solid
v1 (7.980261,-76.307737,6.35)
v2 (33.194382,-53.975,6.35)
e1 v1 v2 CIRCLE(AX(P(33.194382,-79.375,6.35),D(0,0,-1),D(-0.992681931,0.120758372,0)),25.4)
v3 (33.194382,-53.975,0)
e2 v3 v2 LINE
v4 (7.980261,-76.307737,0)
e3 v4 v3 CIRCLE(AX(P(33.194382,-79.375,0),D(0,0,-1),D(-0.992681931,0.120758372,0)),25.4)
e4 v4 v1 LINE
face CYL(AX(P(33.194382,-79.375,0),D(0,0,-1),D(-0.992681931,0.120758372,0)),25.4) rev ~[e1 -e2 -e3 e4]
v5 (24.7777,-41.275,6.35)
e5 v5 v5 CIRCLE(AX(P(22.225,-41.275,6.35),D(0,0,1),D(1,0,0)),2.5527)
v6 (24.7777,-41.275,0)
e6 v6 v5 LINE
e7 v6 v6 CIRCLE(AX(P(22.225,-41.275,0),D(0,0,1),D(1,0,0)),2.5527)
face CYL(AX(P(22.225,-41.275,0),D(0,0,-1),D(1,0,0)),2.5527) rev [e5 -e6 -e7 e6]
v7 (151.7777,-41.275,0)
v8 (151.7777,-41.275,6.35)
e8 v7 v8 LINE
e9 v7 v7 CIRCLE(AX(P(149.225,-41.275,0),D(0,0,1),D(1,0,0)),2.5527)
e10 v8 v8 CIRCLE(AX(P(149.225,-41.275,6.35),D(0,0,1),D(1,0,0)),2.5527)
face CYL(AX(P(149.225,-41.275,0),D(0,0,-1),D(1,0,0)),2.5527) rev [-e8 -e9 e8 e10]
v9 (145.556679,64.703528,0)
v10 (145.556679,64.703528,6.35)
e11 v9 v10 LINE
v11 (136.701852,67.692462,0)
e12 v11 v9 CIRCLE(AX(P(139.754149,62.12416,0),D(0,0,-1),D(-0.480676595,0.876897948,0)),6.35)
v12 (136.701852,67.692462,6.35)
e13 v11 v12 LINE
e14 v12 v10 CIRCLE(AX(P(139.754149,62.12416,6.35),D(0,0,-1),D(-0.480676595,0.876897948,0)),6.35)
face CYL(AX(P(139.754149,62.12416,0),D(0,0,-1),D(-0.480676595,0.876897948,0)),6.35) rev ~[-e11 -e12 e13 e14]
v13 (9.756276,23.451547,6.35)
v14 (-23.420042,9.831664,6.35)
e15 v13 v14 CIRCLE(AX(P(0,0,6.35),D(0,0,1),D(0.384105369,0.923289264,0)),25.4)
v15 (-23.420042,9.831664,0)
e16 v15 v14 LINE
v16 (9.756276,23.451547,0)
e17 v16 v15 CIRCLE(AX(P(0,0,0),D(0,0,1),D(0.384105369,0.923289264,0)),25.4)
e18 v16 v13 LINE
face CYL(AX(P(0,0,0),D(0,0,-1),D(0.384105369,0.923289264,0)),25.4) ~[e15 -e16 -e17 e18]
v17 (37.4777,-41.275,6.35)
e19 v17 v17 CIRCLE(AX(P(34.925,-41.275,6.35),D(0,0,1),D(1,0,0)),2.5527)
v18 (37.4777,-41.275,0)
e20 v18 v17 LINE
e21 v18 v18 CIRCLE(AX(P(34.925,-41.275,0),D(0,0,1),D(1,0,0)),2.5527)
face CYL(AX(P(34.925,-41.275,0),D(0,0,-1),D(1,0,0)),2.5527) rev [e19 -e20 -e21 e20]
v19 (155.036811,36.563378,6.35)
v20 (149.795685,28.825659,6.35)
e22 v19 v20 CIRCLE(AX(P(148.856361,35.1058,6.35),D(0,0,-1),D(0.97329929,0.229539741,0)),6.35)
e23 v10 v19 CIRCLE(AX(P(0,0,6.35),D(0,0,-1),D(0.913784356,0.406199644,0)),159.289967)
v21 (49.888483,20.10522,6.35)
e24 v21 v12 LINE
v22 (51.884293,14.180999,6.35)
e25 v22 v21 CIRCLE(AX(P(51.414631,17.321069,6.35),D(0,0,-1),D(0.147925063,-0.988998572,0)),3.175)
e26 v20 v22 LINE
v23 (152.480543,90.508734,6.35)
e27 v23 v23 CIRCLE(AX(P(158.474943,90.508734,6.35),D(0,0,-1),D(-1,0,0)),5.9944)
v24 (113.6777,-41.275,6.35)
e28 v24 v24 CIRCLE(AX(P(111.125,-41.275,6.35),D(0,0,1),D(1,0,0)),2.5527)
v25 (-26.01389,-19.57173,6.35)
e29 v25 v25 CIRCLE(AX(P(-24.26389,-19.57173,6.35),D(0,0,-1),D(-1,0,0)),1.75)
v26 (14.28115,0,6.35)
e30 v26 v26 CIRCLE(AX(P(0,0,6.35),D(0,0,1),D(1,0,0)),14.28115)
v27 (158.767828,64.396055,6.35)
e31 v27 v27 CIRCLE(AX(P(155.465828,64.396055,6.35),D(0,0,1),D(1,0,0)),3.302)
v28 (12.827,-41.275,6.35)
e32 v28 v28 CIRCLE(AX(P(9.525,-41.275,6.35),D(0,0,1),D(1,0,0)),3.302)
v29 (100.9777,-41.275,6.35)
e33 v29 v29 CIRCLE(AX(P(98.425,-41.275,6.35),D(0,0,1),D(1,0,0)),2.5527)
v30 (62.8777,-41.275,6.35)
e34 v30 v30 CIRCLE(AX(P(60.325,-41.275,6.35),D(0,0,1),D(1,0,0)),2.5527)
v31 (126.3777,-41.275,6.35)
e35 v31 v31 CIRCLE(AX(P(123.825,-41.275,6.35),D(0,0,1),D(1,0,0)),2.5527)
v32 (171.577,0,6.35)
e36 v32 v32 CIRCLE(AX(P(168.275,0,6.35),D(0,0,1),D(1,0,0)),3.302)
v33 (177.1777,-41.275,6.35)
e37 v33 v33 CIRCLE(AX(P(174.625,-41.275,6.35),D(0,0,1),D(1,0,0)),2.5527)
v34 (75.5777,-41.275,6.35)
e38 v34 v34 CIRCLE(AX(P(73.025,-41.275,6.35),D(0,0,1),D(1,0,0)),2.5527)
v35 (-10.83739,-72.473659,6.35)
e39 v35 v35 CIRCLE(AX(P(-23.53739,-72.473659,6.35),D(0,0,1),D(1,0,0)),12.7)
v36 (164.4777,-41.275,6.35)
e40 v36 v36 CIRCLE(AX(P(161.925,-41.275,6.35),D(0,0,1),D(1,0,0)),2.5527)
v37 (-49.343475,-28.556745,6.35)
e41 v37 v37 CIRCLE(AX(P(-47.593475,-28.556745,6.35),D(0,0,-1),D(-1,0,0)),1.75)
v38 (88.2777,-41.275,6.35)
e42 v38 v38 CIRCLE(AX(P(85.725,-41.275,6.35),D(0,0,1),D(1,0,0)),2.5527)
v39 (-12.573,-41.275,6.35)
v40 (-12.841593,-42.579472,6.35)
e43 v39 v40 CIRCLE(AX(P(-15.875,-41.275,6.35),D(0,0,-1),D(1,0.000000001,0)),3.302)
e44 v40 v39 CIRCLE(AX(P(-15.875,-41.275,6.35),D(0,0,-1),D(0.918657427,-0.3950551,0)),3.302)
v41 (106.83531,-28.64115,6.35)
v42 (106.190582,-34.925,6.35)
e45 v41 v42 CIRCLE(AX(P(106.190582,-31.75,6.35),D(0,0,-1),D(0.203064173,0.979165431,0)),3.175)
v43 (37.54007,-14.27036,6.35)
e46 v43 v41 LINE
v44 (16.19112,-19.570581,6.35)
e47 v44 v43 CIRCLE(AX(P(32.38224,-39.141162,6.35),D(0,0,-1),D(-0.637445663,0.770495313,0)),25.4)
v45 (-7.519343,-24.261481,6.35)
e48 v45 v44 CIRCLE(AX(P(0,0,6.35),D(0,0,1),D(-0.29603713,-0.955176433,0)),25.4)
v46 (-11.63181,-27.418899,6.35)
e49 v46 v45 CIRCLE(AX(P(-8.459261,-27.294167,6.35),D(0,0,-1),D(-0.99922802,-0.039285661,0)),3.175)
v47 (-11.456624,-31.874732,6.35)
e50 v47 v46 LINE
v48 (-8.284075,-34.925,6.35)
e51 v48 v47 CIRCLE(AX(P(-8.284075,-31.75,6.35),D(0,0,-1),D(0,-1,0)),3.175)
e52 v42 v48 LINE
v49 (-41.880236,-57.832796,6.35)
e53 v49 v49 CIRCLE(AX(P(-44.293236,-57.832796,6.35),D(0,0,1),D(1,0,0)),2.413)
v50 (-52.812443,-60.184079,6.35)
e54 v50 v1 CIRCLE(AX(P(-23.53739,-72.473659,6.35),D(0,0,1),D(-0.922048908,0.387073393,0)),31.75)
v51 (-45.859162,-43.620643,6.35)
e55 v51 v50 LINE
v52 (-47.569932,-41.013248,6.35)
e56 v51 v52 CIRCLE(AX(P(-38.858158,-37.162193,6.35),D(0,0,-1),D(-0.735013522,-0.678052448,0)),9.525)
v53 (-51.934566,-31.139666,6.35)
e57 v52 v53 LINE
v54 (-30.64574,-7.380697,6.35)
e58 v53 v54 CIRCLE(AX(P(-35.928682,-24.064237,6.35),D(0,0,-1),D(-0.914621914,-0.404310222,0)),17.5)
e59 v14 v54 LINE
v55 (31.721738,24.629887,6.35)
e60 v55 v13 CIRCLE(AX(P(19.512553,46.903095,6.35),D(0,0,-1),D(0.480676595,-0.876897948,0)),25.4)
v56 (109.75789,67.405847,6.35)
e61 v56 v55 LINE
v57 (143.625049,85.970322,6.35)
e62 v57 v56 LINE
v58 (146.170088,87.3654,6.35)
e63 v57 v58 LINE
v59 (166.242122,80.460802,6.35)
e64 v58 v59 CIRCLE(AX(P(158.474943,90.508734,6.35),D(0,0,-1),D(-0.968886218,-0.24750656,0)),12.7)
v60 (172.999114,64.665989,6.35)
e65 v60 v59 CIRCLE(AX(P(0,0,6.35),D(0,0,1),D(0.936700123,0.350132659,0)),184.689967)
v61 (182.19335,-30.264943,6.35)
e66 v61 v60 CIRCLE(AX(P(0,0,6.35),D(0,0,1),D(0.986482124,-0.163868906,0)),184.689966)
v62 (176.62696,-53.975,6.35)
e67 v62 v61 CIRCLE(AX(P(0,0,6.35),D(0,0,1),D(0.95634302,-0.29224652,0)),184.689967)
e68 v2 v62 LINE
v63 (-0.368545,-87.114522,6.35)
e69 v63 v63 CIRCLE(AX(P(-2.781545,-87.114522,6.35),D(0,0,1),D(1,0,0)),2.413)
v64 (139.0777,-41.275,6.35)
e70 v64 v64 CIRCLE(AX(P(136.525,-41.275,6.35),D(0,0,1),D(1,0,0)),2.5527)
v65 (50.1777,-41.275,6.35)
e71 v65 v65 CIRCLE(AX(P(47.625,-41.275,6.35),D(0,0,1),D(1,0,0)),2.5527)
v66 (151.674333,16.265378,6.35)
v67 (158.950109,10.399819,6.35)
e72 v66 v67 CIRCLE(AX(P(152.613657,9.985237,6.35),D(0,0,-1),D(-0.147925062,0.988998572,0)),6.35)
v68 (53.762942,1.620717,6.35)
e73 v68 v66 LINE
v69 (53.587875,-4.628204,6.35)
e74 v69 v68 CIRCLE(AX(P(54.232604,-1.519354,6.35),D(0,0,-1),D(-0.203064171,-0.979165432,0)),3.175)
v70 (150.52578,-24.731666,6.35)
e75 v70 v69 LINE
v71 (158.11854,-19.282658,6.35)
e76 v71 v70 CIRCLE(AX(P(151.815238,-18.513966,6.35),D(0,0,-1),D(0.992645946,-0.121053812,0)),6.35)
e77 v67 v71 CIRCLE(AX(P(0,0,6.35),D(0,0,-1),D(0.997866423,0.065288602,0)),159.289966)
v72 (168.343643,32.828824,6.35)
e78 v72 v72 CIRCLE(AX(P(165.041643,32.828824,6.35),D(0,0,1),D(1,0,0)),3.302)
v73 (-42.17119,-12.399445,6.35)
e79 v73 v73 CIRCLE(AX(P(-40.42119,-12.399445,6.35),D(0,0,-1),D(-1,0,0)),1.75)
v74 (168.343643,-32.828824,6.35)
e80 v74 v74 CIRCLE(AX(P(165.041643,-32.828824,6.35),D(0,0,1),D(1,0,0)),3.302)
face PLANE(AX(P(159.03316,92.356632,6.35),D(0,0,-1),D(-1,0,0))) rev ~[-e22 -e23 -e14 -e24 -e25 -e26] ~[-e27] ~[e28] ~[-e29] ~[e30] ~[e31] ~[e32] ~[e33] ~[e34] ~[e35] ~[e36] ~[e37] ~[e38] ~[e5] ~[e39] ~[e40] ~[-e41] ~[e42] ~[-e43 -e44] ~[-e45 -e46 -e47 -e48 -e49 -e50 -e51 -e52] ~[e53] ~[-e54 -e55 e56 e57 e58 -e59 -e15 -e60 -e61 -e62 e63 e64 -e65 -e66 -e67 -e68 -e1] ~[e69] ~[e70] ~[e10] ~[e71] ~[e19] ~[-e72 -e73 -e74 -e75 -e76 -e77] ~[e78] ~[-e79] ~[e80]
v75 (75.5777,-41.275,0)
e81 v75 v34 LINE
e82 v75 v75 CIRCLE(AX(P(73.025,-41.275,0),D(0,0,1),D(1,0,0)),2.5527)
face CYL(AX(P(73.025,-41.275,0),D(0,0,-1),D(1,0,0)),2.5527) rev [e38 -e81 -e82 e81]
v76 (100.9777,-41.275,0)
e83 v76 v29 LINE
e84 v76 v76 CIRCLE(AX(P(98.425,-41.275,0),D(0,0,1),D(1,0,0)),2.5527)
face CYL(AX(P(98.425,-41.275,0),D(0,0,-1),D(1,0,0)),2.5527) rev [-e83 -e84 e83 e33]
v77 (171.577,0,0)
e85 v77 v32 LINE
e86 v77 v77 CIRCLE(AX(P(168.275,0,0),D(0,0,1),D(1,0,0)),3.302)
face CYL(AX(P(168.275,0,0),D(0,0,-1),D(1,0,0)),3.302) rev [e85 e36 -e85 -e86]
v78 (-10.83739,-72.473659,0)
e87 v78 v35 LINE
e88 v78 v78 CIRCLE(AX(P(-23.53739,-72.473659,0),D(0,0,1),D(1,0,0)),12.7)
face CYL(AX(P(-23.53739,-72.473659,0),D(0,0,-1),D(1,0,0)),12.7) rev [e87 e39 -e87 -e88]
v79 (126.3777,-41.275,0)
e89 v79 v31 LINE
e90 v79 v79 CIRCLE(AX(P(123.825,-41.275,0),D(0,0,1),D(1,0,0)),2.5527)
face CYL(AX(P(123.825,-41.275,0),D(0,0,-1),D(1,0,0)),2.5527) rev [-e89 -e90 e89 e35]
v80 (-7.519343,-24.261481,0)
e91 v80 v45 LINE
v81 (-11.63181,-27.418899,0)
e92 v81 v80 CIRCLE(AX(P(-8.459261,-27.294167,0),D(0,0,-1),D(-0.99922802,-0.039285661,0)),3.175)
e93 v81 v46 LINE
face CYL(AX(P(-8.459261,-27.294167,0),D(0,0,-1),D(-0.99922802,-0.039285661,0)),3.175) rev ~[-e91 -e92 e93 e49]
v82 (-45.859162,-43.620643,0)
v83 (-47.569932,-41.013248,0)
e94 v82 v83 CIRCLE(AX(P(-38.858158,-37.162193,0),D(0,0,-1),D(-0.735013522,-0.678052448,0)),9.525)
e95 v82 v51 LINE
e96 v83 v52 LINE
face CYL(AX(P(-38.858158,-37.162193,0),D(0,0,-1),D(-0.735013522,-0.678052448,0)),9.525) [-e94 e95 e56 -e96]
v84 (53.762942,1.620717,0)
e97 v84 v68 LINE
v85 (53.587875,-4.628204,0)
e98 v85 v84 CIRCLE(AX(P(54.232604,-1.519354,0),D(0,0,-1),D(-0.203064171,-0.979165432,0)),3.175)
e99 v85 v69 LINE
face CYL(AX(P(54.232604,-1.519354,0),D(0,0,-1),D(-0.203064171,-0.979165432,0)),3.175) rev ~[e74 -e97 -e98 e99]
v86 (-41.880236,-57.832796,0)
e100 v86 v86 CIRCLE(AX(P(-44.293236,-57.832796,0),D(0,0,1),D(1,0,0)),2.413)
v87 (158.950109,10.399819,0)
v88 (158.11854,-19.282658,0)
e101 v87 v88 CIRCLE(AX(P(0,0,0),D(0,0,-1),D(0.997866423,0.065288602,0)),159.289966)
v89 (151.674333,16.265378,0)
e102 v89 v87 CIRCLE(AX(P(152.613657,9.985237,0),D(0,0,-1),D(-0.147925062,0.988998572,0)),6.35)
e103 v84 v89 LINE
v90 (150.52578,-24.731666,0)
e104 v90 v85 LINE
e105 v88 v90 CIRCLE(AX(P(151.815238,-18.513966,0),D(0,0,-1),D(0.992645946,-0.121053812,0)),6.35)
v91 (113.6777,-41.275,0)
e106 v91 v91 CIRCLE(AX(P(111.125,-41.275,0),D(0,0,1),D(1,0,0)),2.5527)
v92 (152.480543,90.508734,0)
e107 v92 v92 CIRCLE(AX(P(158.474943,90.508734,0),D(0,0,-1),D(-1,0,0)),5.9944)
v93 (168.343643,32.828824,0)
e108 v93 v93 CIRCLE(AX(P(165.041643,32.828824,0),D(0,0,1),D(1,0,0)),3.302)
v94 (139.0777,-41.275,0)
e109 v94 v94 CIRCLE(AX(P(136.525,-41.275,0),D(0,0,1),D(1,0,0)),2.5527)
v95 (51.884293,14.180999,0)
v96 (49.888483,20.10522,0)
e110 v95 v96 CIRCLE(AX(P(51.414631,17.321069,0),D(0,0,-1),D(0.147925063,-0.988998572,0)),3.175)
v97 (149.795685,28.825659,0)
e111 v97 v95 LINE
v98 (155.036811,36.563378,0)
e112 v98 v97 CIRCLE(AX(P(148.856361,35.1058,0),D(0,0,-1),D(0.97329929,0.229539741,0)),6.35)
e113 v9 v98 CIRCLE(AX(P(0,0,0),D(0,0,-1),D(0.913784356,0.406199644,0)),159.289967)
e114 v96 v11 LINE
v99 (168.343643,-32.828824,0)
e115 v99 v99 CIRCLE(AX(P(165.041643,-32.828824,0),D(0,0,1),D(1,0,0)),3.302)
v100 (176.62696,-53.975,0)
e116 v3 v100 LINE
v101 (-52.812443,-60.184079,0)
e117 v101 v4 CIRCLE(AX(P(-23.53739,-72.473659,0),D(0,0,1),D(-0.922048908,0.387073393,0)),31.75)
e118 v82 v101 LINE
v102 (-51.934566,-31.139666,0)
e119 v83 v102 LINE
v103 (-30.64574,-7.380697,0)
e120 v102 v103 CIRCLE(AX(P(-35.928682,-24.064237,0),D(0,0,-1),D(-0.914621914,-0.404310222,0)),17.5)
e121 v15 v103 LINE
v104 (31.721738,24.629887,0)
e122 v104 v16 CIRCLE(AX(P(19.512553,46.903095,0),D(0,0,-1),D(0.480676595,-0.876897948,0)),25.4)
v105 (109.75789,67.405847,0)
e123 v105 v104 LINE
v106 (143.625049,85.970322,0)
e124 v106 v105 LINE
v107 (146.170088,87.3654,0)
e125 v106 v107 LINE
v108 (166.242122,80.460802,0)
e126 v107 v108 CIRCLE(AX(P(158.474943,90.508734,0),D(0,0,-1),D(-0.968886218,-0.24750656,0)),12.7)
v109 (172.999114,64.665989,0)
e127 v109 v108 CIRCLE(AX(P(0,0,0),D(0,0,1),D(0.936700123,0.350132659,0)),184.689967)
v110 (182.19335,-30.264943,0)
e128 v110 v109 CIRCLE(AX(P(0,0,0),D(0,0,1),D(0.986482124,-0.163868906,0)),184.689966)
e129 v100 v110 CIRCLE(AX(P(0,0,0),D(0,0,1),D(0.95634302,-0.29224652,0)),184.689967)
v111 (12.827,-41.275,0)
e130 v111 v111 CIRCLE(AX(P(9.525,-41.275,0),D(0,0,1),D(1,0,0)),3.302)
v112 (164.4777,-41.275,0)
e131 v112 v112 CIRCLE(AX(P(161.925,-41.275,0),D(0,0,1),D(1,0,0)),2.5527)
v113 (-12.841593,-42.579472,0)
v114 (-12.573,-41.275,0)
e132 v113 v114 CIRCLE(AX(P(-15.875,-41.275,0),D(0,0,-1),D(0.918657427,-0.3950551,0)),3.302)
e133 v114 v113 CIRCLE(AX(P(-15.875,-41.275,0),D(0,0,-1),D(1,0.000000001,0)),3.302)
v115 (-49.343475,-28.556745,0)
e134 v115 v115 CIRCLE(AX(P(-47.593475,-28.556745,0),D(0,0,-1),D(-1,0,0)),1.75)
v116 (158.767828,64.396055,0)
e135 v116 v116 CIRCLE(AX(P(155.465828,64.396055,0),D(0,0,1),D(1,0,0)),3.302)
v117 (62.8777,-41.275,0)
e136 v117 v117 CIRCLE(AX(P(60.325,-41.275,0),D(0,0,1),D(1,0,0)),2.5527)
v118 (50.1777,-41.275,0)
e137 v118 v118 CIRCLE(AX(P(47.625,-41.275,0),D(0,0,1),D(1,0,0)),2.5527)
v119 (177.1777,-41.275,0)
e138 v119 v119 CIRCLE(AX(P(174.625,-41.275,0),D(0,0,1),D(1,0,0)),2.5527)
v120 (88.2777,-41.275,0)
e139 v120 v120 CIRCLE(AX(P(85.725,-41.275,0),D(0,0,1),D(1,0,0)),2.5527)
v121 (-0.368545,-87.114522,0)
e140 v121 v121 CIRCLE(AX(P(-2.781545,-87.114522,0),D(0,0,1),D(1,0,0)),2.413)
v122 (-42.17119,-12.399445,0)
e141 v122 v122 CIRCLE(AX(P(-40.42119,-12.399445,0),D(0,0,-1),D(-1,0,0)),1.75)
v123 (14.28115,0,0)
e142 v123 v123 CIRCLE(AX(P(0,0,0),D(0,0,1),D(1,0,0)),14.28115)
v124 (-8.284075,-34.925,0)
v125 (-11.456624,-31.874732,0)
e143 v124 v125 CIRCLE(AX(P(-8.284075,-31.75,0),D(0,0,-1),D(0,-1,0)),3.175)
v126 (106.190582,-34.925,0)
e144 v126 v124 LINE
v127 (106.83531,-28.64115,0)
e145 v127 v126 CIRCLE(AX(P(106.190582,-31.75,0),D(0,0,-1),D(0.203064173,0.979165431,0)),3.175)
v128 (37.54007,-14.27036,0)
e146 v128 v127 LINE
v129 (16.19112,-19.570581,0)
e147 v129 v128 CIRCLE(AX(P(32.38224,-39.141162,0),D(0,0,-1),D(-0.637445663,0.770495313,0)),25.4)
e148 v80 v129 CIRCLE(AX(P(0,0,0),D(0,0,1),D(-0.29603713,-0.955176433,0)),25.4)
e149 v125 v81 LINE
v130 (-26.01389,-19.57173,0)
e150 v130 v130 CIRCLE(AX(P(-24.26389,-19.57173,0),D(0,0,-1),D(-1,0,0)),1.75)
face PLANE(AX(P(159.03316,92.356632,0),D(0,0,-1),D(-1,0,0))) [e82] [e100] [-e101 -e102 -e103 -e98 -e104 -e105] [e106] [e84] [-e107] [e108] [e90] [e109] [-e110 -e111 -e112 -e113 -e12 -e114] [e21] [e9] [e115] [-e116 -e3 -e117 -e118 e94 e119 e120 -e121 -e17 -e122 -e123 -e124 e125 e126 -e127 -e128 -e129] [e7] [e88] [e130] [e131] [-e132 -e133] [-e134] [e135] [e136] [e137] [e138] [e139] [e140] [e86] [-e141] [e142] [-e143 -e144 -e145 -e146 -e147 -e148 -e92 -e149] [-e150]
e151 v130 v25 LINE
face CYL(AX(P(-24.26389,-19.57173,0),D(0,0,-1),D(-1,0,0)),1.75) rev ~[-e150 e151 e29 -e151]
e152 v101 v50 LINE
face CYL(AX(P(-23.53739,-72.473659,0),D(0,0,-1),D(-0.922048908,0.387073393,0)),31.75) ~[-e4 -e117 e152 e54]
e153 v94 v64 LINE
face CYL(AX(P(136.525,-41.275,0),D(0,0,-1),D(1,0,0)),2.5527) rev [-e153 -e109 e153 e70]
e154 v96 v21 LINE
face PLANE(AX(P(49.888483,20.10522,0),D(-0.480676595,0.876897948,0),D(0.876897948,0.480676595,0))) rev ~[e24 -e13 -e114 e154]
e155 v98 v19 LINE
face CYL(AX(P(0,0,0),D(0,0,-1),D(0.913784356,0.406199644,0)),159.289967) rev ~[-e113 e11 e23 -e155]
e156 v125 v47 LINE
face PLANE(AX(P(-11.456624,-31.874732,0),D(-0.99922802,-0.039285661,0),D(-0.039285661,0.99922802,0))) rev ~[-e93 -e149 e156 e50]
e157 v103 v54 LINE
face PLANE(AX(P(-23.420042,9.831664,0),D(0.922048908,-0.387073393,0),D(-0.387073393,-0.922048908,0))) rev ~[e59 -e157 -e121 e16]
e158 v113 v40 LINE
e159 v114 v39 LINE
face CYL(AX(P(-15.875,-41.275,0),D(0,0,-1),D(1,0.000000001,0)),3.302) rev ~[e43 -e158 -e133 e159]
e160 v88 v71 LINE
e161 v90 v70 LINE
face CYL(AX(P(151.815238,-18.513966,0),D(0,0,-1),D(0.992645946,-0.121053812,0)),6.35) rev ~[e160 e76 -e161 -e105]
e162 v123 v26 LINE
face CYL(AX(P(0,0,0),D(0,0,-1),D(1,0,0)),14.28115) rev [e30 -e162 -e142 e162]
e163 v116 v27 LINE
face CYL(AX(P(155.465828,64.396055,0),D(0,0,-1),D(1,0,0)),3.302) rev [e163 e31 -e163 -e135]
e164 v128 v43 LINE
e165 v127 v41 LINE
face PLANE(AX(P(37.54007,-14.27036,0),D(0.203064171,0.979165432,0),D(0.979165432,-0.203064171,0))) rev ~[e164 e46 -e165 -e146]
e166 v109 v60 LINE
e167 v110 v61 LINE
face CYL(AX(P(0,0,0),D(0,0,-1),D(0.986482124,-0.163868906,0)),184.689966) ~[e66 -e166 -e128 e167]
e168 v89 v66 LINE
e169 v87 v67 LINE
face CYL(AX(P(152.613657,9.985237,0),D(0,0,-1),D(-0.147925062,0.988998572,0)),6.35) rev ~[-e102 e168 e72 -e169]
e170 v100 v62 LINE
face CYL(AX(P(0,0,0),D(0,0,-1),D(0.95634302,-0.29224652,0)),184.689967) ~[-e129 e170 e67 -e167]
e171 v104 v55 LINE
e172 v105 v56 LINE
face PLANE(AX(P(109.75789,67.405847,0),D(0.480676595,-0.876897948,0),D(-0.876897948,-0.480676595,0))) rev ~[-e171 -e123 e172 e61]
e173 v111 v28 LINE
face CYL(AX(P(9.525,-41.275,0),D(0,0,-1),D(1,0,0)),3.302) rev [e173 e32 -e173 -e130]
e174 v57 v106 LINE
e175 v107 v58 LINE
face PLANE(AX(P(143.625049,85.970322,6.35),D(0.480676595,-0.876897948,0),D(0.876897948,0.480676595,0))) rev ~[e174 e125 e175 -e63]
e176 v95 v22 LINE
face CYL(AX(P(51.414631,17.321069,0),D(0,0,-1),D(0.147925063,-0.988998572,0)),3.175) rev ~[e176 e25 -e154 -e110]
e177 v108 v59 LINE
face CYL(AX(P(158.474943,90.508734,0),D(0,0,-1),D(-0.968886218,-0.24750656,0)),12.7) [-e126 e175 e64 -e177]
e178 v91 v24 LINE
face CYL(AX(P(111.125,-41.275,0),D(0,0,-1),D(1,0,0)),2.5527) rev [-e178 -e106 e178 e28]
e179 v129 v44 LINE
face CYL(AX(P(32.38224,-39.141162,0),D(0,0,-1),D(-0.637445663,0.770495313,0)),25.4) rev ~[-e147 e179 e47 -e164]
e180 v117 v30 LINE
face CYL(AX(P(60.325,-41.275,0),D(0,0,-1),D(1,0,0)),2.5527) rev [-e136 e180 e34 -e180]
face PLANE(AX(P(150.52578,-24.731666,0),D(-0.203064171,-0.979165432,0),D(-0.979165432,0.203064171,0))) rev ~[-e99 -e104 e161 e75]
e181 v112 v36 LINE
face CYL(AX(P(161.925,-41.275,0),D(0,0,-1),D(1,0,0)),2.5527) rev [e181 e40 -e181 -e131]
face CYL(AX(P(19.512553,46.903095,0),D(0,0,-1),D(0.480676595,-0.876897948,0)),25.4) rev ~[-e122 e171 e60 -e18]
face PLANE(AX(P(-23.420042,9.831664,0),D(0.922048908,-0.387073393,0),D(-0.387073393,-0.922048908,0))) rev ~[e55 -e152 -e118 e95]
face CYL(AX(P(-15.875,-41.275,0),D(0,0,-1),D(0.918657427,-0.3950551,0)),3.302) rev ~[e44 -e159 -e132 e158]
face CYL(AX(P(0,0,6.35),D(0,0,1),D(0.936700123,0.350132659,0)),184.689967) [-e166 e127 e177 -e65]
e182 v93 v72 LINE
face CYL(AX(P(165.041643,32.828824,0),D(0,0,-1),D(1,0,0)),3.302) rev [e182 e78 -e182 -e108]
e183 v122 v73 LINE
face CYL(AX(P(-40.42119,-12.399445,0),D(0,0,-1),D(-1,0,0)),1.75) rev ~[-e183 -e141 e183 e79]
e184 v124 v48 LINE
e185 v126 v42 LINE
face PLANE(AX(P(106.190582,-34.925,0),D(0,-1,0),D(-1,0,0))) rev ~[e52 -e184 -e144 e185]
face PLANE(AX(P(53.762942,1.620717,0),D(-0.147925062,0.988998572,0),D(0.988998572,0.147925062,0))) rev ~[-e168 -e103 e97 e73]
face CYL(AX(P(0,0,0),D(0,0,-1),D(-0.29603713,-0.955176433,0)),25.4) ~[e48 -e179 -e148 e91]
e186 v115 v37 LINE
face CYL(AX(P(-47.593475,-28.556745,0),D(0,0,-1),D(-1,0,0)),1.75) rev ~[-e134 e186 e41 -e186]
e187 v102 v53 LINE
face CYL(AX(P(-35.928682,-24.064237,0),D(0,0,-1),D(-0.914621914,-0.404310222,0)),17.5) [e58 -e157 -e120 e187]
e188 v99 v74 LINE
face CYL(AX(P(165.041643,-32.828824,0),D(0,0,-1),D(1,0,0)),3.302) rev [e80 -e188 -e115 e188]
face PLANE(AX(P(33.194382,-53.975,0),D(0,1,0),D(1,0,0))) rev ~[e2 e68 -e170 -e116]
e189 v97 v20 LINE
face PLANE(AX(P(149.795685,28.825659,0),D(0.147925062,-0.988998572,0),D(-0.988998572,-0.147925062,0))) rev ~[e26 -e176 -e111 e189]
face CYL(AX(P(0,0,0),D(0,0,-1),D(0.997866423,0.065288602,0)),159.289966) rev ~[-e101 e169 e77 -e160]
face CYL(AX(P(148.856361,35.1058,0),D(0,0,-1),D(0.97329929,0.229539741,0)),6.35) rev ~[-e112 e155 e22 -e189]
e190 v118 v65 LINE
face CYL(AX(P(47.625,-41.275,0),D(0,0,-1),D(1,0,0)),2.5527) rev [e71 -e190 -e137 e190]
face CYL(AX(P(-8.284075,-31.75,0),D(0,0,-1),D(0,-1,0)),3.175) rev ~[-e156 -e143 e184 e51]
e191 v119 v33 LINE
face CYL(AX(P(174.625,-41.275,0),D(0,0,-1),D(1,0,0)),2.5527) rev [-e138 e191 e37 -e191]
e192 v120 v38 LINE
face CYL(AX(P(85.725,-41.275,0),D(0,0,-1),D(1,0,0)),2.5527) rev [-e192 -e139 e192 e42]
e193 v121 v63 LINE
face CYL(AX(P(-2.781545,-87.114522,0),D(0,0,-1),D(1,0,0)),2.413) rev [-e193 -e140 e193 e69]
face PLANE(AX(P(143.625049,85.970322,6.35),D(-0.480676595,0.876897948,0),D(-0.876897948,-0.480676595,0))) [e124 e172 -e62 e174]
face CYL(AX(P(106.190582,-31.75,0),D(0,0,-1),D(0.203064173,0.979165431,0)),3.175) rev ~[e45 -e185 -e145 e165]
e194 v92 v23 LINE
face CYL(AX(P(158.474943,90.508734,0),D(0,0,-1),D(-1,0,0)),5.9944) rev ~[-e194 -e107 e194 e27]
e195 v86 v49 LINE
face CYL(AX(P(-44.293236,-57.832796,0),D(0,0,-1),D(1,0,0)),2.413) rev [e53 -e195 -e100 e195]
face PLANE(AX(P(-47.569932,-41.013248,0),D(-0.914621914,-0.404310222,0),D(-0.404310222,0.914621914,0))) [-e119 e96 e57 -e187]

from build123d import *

# Parameters (mm, degrees)
MODEL_R             = 2.413
MODEL_R_2           = 12.7
MODEL_R_3           = 14.281149998
MODEL_R_4           = 3.302
MODEL_R_5           = 2.5527
MODEL_R_6           = 6.00075
MODEL_R_7           = 1.6
MODEL_R_8           = 6.599999999
BOSS_EXTRUDE2_DEPTH = 6.35
BOSS_EXTRUDE3_DEPTH = 6.35
CUT_EXTRUDE2_DEPTH  = 7.35
SKETCH3_R           = 1.75
BOSS_EXTRUDE4_DEPTH = 6.35
SKETCH3_6_R         = 1.75
CUT_EXTRUDE3_DEPTH  = 7.35
BOSS_EXTRUDE5_DEPTH = 6.35
SKETCH9_R           = 5.9944
CUT_EXTRUDE4_DEPTH  = 7.35


with BuildPart() as part:
    # Model → Boss-Extrude2 (new body)
    with BuildSketch(Plane.XY):
        with BuildLine():
            Line((33.194381935, -53.975), (176.626960261, -53.975))
            ThreePointArc((176.626960261, -53.975), (179.801405862, -42.211824955), (182.193350463, -30.264942807))
            ThreePointArc((182.193350463, -30.264942807), (183.829791454, 17.804254832), (172.999114376, 64.665989059))
            ThreePointArc((172.999114376, 64.665989059), (172.041022004, 67.851130989), (171.507342233, 71.134156425))
            Line((171.507342233, 71.134156425), (168.283057515, 104.748950069))
            ThreePointArc((168.283057515, 104.748950069), (153.768177108, 120.335666132), (134.949478429, 110.361496948))
            Line((134.949478429, 110.361496948), (120.644399952, 79.107921201))
            ThreePointArc((120.644399952, 79.107921201), (116.145567058, 72.378282822), (109.757890395, 67.405847105))
            Line((109.757890395, 67.405847105), (31.721738278, 24.629886736))
            ThreePointArc((31.721738278, 24.629886736), (20.873181942, 21.53956394), (9.756276385, 23.451547307))
            ThreePointArc((9.756276385, 23.451547307), (-9.646239085, 23.497022608), (-23.420042255, 9.831664186))
            Line((-23.420042255, 9.831664186), (-52.812443226, -60.184078795))
            ThreePointArc((-52.812443226, -60.184078795), (-31.676825474, -103.162616273), (7.980260895, -76.307737346))
            ThreePointArc((7.980260895, -76.307737346), (16.353189451, -60.360946363), (33.194381935, -53.975))
        make_face()
        with Locations((-2.78154477, -87.114522117)):
            Circle(MODEL_R, mode=Mode.SUBTRACT)
        with Locations((-44.293236039, -57.832795939)):
            Circle(MODEL_R, mode=Mode.SUBTRACT)
        with Locations((-23.537390405, -72.473659028)):
            Circle(MODEL_R_2, mode=Mode.SUBTRACT)
        with BuildLine():
            ThreePointArc((-12.841593176, -42.57947194), (-19.109154707, -40.609081586), (-12.573, -41.275))
            ThreePointArc((-12.573, -41.275), (-12.640845293, -41.940918414), (-12.841593176, -42.57947194))
        make_face(mode=Mode.SUBTRACT)
        with Locations((2e-09, -1e-09)):
            Circle(MODEL_R_3, mode=Mode.SUBTRACT)
        with Locations((9.525, -41.275)):
            Circle(MODEL_R_4, mode=Mode.SUBTRACT)
        with Locations((22.225, -41.275)):
            Circle(MODEL_R_5, mode=Mode.SUBTRACT)
        with Locations((34.925, -41.275)):
            Circle(MODEL_R_5, mode=Mode.SUBTRACT)
        with Locations((47.625, -41.275)):
            Circle(MODEL_R_5, mode=Mode.SUBTRACT)
        with Locations((60.325, -41.275)):
            Circle(MODEL_R_5, mode=Mode.SUBTRACT)
        with BuildLine():
            ThreePointArc((16.191119841, -19.570580939), (26.262071613, -14.489518063), (37.54006963, -14.270359917))
            Line((37.54006963, -14.270359917), (106.835310384, -28.641149755))
            ThreePointArc((106.835310384, -28.641149755), (109.349000903, -32.074056686), (106.19058164, -34.925))
            Line((106.19058164, -34.925), (-8.284075387, -34.925))
            ThreePointArc((-8.284075387, -34.925), (-10.484598164, -34.038738628), (-11.456624352, -31.874731974))
            Line((-11.456624352, -31.874731974), (-11.631809955, -27.418898539))
            ThreePointArc((-11.631809955, -27.418898539), (-10.39277622, -24.775805221), (-7.519343102, -24.26148139))
            ThreePointArc((-7.519343102, -24.26148139), (4.929611011, -24.917041062), (16.191119841, -19.570580939))
        make_face(mode=Mode.SUBTRACT)
        with Locations((73.025, -41.275)):
            Circle(MODEL_R_5, mode=Mode.SUBTRACT)
        with Locations((85.725, -41.275)):
            Circle(MODEL_R_5, mode=Mode.SUBTRACT)
        with Locations((98.425, -41.275)):
            Circle(MODEL_R_5, mode=Mode.SUBTRACT)
        with Locations((111.125, -41.275)):
            Circle(MODEL_R_5, mode=Mode.SUBTRACT)
        with Locations((123.825, -41.275)):
            Circle(MODEL_R_5, mode=Mode.SUBTRACT)
        with BuildLine():
            Line((150.525780255, -24.731666411), (53.587874929, -4.628204042))
            ThreePointArc((53.587874929, -4.628204042), (51.058848917, -1.430439454), (53.762941599, 1.62071667))
            Line((53.762941599, 1.62071667), (151.674333159, 16.265377518))
            ThreePointArc((151.674333159, 16.265377518), (156.599060705, 14.928824322), (158.95010909, 10.399819206))
            ThreePointArc((158.95010909, 10.399819206), (159.227492405, -4.460838665), (158.118539501, -19.282657626))
            ThreePointArc((158.118539501, -19.282657626), (155.517613032, -23.672930664), (150.525780255, -24.731666411))
        make_face(mode=Mode.SUBTRACT)
        with Locations((136.525, -41.275)):
            Circle(MODEL_R_5, mode=Mode.SUBTRACT)
        with Locations((149.225, -41.275)):
            Circle(MODEL_R_5, mode=Mode.SUBTRACT)
        with Locations((161.925, -41.275)):
            Circle(MODEL_R_5, mode=Mode.SUBTRACT)
        with Locations((174.625, -41.275)):
            Circle(MODEL_R_5, mode=Mode.SUBTRACT)
        with Locations((165.041643061, -32.828823938)):
            Circle(MODEL_R_4, mode=Mode.SUBTRACT)
        with Locations((168.275000002, -1e-09)):
            Circle(MODEL_R_4, mode=Mode.SUBTRACT)
        with BuildLine():
            Line((149.795684871, 28.825659386), (51.884293311, 14.180998537))
            ThreePointArc((51.884293311, 14.180998537), (48.40578749, 16.307419992), (49.888483051, 20.105219991))
            Line((49.888483051, 20.105219991), (136.7018524, 67.692461879))
            ThreePointArc((136.7018524, 67.692461879), (141.785005521, 68.14064733), (145.556679438, 64.703527647))
            ThreePointArc((145.556679438, 64.703527647), (150.953895829, 50.854840016), (155.036811216, 36.563377676))
            ThreePointArc((155.036811216, 36.563377676), (154.113819123, 31.54467252), (149.795684871, 28.825659386))
        make_face(mode=Mode.SUBTRACT)
        with Locations((165.041643061, 32.828823937)):
            Circle(MODEL_R_4, mode=Mode.SUBTRACT)
        with Locations((143.968148324, 91.96125582)):
            Circle(MODEL_R_6, mode=Mode.SUBTRACT)
        with Locations((155.465828334, 64.396054582)):
            Circle(MODEL_R_4, mode=Mode.SUBTRACT)
        with Locations((161.105196874, 87.885715063)):
            Circle(MODEL_R_6, mode=Mode.SUBTRACT)
        with Locations((138.411127855, 104.180489712)):
            Circle(MODEL_R_7, mode=Mode.SUBTRACT)
        with Locations((150.86241233, 103.077985772)):
            Circle(MODEL_R_8, mode=Mode.SUBTRACT)
        with Locations((151.96491627, 115.529270247)):
            Circle(MODEL_R_7, mode=Mode.SUBTRACT)
        with Locations((163.313696806, 101.975481832)):
            Circle(MODEL_R_7, mode=Mode.SUBTRACT)
    extrude(amount=BOSS_EXTRUDE2_DEPTH)

    # Sketch2 → Boss-Extrude3 (add, through all)
    with BuildSketch(Plane.XY.offset(6.35)):
        with BuildLine():
            Line((143.625048634, 85.970322406), (149.20311028, 89.027968606))
            ThreePointArc((149.20311028, 89.027968606), (146.8525684, 86.699210458), (143.625048634, 85.970322406))
        make_face()
        with BuildLine():
            ThreePointArc((164.878362916, 83.219644063), (162.13420828, 88.447058862), (159.224374167, 93.584092596))
            ThreePointArc((159.224374167, 93.584092596), (155.837304584, 85.011987277), (164.878362916, 83.219644063))
        make_face()
    extrude(amount=-BOSS_EXTRUDE3_DEPTH)

    # Sketch2<3> → Cut-Extrude2 (cut, through all)
    with BuildSketch(Plane.XY.offset(6.35)):
        with BuildLine():
            ThreePointArc((159.224374167, 93.584092596), (159.015682677, 93.938258333), (158.80620341, 94.291958693))
            Line((158.80620341, 94.291958693), (149.20311028, 89.027968606))
            Line((149.20311028, 89.027968606), (143.625048634, 85.970322406))
            Line((143.625048634, 85.970322406), (109.757890395, 67.405847105))
            ThreePointArc((109.757890395, 67.405847105), (116.145567058, 72.378282822), (120.644399952, 79.107921201))
            Line((120.644399952, 79.107921201), (134.949478429, 110.361496948))
            ThreePointArc((134.949478429, 110.361496948), (153.768177108, 120.335666132), (168.283057515, 104.748950069))
            Line((168.283057515, 104.748950069), (171.507342233, 71.134156425))
            ThreePointArc((171.507342233, 71.134156425), (172.041022004, 67.851130989), (172.999114376, 64.665989059))
            ThreePointArc((172.999114376, 64.665989059), (166.739844557, 79.424227745), (159.224374167, 93.584092596))
        make_face()
    extrude(amount=-CUT_EXTRUDE2_DEPTH, mode=Mode.SUBTRACT)

    # Sketch3 → Boss-Extrude4 (add, through all)
    with BuildSketch(Plane(origin=(0, 0, 0), x_dir=(-1, 0, 0), z_dir=(0, 0, -1))):
        with Locations((24.263890272, -19.571729998)):
            Circle(SKETCH3_R)
        with BuildLine():
            Line((47.569931866, -41.013247954), (51.934565947, -31.139666326))
            ThreePointArc((51.934565947, -31.139666326), (48.962006062, -12.385946654), (30.645740354, -7.380696976))
            Line((30.645740354, -7.380696976), (45.859161931, -43.620642669))
            ThreePointArc((45.859161931, -43.620642669), (46.821980785, -42.387435085), (47.569931866, -41.013247954))
        make_face()
        with Locations((40.421189912, -12.399445261)):
            Circle(SKETCH3_R, mode=Mode.SUBTRACT)
        with Locations((47.593474649, -28.556744901)):
            Circle(SKETCH3_R, mode=Mode.SUBTRACT)
    extrude(amount=-BOSS_EXTRUDE4_DEPTH)

    # Sketch3<6> → Cut-Extrude3 (cut, through all)
    with BuildSketch(Plane(origin=(0, 0, 0), x_dir=(-1, 0, 0), z_dir=(0, 0, -1))):
        with Locations((24.263890272, -19.571729998)):
            Circle(SKETCH3_6_R)
    extrude(amount=-CUT_EXTRUDE3_DEPTH, mode=Mode.SUBTRACT)

    # Sketch8 → Boss-Extrude5 (add, through all)
    with BuildSketch(Plane(origin=(0, 0, 0), x_dir=(-1, 0, 0), z_dir=(0, 0, -1))):
        with BuildLine():
            Line((-158.80620341, 94.291958693), (-146.170088384, 87.365400413))
            ThreePointArc((-146.170088384, 87.365400413), (-162.606044593, 102.518063532), (-166.242121917, 80.460801739))
            ThreePointArc((-166.242121917, 80.460801739), (-162.671228787, 87.455446032), (-158.80620341, 94.291958693))
        make_face()
    extrude(amount=-BOSS_EXTRUDE5_DEPTH)

    # Sketch9 → Cut-Extrude4 (cut, through all)
    with BuildSketch(Plane(origin=(0, 0, 0), x_dir=(-1, 0, 0), z_dir=(0, 0, -1))):
        with Locations((-158.474943349, 90.50873372)):
            Circle(SKETCH9_R)
    extrude(amount=-CUT_EXTRUDE4_DEPTH, mode=Mode.SUBTRACT)


solid = part.part
